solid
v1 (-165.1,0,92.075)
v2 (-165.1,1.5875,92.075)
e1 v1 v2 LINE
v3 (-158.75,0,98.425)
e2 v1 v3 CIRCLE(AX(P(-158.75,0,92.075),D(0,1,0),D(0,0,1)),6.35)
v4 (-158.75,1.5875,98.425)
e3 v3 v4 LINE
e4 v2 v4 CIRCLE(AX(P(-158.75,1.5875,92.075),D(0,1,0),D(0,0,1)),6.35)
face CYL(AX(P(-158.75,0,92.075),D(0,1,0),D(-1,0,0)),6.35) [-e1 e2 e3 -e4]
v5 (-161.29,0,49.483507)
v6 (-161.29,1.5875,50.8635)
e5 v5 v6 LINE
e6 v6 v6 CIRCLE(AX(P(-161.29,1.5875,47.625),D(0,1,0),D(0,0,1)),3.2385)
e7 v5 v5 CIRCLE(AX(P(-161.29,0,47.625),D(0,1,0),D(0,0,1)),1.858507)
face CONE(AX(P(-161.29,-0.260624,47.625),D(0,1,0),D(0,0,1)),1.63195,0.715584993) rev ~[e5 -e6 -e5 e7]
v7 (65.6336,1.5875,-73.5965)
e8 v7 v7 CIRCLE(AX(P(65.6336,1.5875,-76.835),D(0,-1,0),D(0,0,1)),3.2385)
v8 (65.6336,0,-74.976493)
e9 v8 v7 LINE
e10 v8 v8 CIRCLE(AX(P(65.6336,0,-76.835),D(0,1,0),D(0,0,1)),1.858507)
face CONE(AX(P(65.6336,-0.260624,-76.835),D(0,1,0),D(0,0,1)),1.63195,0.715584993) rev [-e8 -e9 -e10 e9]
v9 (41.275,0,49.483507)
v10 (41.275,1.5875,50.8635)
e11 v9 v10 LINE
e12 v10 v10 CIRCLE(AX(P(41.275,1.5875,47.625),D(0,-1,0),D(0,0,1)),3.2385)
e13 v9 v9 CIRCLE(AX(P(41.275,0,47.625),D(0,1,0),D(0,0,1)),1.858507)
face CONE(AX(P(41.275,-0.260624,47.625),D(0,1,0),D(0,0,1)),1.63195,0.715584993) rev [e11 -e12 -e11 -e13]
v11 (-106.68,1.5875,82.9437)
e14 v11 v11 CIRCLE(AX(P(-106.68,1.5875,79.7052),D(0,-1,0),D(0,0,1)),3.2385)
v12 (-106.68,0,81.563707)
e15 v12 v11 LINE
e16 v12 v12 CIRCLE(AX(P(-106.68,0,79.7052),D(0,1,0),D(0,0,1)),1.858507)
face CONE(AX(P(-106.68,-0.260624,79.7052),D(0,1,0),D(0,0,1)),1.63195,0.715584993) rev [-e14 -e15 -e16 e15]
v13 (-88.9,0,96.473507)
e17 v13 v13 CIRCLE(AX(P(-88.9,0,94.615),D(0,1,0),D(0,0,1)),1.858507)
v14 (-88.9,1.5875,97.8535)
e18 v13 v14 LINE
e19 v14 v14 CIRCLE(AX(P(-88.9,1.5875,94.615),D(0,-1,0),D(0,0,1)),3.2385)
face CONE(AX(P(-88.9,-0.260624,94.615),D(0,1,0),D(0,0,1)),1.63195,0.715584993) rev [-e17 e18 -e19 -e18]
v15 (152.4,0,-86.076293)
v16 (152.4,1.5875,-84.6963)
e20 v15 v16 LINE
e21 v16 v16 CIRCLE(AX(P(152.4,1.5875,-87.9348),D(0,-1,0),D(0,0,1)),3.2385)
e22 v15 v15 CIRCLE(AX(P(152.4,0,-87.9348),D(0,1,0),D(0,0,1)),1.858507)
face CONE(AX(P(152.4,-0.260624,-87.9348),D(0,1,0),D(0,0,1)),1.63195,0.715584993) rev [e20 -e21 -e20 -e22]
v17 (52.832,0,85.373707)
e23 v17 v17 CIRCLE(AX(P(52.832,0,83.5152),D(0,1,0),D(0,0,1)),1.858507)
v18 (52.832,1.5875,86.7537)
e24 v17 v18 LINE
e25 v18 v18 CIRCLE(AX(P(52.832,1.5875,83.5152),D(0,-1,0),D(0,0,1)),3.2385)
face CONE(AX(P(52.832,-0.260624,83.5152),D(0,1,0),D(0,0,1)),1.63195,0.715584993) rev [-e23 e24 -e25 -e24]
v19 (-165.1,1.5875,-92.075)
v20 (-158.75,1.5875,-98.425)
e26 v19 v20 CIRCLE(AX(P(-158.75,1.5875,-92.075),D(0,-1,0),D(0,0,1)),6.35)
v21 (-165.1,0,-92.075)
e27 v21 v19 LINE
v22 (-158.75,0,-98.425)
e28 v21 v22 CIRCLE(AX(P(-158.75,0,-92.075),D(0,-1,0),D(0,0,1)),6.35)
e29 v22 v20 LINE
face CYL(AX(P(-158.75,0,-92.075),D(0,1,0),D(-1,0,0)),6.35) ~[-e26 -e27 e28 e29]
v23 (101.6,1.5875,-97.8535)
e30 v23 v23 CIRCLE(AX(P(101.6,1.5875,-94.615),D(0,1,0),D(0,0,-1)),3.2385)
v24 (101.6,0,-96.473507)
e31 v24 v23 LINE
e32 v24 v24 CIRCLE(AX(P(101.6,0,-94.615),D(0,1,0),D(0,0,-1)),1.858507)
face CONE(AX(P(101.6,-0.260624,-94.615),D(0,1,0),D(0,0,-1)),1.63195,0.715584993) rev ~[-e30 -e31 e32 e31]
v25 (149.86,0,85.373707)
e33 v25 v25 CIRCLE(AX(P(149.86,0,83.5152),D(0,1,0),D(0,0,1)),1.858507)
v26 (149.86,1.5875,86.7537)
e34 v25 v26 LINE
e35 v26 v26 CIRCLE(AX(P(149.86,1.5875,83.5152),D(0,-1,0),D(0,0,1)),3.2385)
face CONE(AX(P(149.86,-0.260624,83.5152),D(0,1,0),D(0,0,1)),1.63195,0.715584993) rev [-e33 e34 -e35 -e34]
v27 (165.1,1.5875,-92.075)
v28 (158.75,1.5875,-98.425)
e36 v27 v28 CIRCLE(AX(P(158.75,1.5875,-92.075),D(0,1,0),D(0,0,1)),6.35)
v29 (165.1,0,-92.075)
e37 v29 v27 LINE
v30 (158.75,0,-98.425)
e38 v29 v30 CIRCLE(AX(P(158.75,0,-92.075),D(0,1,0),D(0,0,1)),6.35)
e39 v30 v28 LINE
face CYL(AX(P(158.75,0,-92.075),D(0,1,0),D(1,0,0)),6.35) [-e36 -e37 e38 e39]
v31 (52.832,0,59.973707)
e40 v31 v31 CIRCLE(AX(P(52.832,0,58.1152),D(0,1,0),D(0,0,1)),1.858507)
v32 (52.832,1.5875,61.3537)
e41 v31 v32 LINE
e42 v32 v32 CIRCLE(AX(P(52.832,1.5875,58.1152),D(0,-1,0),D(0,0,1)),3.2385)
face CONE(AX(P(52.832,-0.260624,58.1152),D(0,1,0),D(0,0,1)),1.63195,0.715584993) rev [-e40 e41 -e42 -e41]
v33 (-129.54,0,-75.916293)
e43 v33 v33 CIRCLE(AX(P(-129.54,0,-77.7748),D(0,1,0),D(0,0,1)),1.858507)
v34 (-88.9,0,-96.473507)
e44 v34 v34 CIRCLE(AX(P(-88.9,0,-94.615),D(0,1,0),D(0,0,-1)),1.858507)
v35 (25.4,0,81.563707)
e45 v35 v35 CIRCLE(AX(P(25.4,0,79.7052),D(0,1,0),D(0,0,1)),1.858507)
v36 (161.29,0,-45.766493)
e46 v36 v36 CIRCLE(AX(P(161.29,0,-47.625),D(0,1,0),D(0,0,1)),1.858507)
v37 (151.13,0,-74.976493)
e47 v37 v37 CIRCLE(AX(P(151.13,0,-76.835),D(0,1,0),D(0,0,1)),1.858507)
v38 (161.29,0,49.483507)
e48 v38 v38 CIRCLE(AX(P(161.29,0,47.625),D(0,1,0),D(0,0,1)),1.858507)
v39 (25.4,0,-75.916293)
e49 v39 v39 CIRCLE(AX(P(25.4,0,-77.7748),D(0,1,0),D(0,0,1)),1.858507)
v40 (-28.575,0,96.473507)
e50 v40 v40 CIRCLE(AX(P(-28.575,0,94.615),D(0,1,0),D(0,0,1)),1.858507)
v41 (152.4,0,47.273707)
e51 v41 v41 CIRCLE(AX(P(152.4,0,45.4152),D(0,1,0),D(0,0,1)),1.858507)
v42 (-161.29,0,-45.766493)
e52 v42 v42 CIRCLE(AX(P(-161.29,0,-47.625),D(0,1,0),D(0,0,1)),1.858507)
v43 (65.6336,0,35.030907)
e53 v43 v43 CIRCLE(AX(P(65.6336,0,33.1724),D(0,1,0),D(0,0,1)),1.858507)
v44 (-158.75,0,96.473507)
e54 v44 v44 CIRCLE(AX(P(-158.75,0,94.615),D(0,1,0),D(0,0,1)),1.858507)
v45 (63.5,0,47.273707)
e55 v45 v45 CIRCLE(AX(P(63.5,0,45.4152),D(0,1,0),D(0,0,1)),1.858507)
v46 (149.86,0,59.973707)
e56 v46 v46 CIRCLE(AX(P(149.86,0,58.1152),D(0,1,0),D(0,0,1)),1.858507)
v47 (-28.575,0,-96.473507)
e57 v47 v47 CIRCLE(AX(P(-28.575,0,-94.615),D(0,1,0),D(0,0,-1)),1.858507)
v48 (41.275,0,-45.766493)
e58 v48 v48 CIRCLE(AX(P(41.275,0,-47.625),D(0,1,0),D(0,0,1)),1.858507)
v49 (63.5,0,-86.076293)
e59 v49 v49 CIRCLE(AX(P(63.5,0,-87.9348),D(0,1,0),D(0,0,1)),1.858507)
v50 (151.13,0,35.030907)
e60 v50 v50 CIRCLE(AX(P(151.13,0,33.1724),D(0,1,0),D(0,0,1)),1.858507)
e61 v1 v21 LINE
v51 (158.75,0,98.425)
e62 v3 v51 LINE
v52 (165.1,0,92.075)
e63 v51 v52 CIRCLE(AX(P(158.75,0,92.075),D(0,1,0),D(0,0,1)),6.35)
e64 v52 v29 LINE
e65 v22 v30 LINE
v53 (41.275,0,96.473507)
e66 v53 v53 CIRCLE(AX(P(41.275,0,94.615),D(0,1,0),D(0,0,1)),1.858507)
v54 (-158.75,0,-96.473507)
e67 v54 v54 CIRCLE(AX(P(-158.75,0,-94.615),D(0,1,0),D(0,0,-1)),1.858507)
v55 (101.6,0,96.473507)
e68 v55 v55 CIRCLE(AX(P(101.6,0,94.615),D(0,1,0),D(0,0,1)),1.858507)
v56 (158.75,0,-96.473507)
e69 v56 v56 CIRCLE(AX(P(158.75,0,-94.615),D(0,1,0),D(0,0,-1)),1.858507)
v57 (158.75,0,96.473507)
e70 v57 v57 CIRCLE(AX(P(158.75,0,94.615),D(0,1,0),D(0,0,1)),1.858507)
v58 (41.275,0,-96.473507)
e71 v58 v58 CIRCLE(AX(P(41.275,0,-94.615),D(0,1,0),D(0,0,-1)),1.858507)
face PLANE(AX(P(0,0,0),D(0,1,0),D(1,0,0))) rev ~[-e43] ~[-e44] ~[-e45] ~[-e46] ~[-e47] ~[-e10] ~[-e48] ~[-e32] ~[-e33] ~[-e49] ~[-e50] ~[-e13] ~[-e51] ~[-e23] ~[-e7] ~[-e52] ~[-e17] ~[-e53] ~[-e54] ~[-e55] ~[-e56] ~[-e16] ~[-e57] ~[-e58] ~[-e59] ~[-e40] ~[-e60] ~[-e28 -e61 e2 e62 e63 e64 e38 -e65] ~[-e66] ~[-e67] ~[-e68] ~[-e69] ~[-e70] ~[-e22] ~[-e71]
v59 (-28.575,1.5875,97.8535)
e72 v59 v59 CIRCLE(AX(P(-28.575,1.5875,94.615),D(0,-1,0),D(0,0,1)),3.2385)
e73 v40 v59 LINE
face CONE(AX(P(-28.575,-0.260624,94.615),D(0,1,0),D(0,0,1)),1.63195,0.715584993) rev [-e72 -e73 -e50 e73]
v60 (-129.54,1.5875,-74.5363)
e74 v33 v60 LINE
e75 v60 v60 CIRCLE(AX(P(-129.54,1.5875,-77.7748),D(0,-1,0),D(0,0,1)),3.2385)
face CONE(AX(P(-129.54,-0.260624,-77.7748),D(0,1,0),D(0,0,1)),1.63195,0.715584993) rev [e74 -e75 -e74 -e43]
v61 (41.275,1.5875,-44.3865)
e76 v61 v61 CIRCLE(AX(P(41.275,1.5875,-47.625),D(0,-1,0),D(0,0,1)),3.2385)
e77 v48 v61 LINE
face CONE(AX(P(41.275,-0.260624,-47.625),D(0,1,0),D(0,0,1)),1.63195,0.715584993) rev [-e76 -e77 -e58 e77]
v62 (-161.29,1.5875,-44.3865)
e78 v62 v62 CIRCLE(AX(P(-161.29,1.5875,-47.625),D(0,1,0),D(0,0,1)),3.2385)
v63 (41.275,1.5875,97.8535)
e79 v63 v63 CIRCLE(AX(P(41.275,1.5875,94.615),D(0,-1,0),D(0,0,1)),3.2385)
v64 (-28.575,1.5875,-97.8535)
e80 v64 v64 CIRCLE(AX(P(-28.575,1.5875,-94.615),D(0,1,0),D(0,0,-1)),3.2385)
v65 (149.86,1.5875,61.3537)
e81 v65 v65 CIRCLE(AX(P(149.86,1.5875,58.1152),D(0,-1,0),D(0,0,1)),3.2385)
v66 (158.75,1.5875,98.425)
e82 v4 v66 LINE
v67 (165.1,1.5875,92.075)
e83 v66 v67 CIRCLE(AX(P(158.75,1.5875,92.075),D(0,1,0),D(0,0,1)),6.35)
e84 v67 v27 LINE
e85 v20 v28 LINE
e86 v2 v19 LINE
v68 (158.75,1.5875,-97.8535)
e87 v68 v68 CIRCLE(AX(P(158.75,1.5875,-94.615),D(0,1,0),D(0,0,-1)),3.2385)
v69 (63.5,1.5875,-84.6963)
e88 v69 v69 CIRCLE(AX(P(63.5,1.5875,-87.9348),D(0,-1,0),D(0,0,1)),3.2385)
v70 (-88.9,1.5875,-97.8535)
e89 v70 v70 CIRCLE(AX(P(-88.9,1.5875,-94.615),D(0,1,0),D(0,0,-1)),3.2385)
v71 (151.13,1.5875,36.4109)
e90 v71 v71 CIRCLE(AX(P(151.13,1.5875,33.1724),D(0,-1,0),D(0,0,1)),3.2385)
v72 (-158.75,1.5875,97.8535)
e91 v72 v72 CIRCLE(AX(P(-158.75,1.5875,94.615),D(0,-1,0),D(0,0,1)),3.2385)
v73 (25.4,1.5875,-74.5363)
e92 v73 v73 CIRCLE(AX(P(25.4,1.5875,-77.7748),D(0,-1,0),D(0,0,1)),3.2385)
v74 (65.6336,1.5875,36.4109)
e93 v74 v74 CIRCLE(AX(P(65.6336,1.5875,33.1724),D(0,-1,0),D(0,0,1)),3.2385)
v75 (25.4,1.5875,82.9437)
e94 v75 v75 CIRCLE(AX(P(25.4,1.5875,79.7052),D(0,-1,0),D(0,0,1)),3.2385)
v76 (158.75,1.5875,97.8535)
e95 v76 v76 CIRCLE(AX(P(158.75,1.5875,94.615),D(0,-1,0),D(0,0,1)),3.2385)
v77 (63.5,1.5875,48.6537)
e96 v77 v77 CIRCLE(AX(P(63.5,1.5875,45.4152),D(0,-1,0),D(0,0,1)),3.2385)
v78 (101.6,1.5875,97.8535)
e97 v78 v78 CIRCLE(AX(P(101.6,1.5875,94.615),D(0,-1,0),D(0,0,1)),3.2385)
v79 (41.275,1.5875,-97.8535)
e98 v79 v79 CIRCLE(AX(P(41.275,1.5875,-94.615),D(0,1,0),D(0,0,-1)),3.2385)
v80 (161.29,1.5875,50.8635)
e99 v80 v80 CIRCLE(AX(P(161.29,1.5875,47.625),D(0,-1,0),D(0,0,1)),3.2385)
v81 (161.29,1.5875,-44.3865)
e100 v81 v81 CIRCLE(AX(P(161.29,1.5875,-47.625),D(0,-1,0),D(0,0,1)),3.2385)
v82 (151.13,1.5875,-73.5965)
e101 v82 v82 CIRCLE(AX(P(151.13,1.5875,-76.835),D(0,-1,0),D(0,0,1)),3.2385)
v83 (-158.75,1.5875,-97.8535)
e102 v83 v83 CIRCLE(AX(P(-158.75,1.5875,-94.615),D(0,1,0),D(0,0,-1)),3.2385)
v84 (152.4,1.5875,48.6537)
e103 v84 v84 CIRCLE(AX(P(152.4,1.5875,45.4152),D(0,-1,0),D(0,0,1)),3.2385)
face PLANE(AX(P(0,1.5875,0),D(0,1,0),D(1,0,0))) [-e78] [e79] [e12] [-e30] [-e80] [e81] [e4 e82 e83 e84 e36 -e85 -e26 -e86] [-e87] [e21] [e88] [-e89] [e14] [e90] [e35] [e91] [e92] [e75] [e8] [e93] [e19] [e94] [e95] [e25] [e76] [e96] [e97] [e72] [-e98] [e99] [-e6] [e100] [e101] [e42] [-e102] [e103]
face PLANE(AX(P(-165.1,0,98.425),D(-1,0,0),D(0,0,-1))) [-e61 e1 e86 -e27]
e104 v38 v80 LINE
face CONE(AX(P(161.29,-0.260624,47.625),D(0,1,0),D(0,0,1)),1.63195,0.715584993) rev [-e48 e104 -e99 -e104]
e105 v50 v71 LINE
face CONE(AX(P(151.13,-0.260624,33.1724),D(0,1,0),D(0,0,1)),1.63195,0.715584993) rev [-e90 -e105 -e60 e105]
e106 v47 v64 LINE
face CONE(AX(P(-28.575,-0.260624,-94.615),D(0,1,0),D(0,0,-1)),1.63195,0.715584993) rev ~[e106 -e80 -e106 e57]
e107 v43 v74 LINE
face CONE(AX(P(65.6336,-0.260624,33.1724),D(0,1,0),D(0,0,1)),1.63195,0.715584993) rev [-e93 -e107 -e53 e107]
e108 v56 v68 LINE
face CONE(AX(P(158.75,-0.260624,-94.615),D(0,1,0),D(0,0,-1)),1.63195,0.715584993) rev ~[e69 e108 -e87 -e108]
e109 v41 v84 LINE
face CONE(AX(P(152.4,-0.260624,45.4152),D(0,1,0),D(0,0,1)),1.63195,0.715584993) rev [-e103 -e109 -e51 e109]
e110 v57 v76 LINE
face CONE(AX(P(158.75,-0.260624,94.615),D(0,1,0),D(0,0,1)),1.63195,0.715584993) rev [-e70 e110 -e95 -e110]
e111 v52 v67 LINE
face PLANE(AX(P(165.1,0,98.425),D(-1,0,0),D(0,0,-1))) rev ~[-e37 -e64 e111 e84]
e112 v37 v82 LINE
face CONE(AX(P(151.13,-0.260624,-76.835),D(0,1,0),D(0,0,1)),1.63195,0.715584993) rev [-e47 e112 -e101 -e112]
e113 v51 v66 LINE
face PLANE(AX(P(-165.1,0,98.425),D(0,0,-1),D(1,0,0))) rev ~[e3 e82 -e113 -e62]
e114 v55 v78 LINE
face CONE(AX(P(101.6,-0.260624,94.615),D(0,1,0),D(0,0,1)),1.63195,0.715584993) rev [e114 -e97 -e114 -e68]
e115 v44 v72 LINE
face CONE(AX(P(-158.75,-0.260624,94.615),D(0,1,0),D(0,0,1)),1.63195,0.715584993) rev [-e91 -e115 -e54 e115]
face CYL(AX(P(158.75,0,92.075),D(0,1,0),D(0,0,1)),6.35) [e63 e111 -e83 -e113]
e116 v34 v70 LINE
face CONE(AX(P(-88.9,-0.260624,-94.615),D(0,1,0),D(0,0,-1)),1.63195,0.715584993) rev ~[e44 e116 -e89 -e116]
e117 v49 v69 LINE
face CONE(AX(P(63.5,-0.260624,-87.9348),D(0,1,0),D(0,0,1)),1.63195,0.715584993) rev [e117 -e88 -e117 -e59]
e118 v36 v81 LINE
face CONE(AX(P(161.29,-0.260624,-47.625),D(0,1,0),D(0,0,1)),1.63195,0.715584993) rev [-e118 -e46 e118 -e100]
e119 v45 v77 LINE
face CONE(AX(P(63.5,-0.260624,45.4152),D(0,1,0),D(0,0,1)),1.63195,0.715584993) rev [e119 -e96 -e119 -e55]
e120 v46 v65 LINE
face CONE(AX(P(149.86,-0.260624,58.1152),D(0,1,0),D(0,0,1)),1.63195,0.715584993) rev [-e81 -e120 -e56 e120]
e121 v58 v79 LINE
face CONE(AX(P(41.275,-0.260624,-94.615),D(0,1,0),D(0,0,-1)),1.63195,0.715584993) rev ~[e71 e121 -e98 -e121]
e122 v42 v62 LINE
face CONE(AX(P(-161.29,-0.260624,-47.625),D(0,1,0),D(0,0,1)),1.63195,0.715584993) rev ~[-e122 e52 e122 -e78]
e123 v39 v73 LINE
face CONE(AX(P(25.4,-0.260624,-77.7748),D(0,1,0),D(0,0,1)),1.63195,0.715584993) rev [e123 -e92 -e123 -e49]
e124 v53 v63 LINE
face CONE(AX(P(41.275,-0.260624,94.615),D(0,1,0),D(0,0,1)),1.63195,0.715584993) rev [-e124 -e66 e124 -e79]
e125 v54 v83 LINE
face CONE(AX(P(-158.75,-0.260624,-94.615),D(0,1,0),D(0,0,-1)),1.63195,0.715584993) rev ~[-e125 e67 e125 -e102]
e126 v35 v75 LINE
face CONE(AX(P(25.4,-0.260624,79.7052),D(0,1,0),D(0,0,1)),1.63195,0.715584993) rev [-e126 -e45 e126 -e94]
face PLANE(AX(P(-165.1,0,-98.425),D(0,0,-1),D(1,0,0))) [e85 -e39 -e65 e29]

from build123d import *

# Parameters (mm, degrees)
SKETCH1_W                                     = 330.2
SKETCH1_H                                     = 196.85
BOSS_EXTRUDE1_DEPTH                           = 1.5875
FILLET1_R                                     = 6.35
CSK_FOR_4_FLAT_HEAD_SOCKET_CAP_SCREW1_A_COUNT = 2
CSK_FOR_4_FLAT_HEAD_SOCKET_CAP_SCREW1_A_PITCH = 95.25
LPATTERN1_COUNT                               = 2
LPATTERN1_PITCH                               = 120.015
CSK_FOR_4_FLAT_HEAD_SOCKET_CAP_SCREW2_A_COUNT = 2
CSK_FOR_4_FLAT_HEAD_SOCKET_CAP_SCREW2_A_PITCH = 57.15
CSK_FOR_4_FLAT_HEAD_SOCKET_CAP_SCRE_2_COUNT   = 2
CSK_FOR_4_FLAT_HEAD_SOCKET_CAP_SCRE_2_PITCH   = 117.475
CSK_FOR_4_FLAT_HEAD_SOCKET_CAP_SCRE_3_COUNT   = 2
CSK_FOR_4_FLAT_HEAD_SOCKET_CAP_SCRE_3_PITCH   = 187.325
CSK_FOR_4_FLAT_HEAD_SOCKET_CAP_SCRE_4_COUNT   = 2
CSK_FOR_4_FLAT_HEAD_SOCKET_CAP_SCRE_4_PITCH   = 247.65
CSK_FOR_4_FLAT_HEAD_SOCKET_CAP_SCRE_5_COUNT   = 2
CSK_FOR_4_FLAT_HEAD_SOCKET_CAP_SCRE_5_PITCH   = 317.5
CSK_FOR_4_FLAT_HEAD_SOCKET_CAP_SCREW3_A_COUNT = 2
CSK_FOR_4_FLAT_HEAD_SOCKET_CAP_SCREW3_A_PITCH = 88.9
CSK_FOR_4_FLAT_HEAD_SOCKET_CAP_SCRE_6_COUNT   = 2
CSK_FOR_4_FLAT_HEAD_SOCKET_CAP_SCRE_6_PITCH   = 160.266754194
CSK_FOR_4_FLAT_HEAD_SOCKET_CAP_SCRE_7_COUNT   = 2
CSK_FOR_4_FLAT_HEAD_SOCKET_CAP_SCRE_7_PITCH   = 133.35
CSK_FOR_4_FLAT_HEAD_SOCKET_CAP_SCREW4_A_COUNT = 2
CSK_FOR_4_FLAT_HEAD_SOCKET_CAP_SCREW4_A_PITCH = 85.4964
CSK_FOR_4_FLAT_HEAD_SOCKET_CAP_SCRE_8_COUNT   = 2
CSK_FOR_4_FLAT_HEAD_SOCKET_CAP_SCRE_8_PITCH   = 110.0074
CSK_FOR_4_FLAT_HEAD_SOCKET_CAP_SCRE_9_COUNT   = 2
CSK_FOR_4_FLAT_HEAD_SOCKET_CAP_SCRE_9_PITCH   = 139.324306809
CSK_FOR_4_FLAT_HEAD_SOCKET_CAP_SCREW5_A_COUNT = 2
CSK_FOR_4_FLAT_HEAD_SOCKET_CAP_SCREW5_A_PITCH = 25.4
CSK_FOR_4_FLAT_HEAD_SOCKET_CAP_SCRE_10_COUNT  = 2
CSK_FOR_4_FLAT_HEAD_SOCKET_CAP_SCRE_10_PITCH  = 97.028
CSK_FOR_4_FLAT_HEAD_SOCKET_CAP_SCRE_11_COUNT  = 2
CSK_FOR_4_FLAT_HEAD_SOCKET_CAP_SCRE_11_PITCH  = 100.297521325
CSK_FOR_4_FLAT_HEAD_SOCKET_CAP_SCREW6_A_COUNT = 2
CSK_FOR_4_FLAT_HEAD_SOCKET_CAP_SCREW6_A_PITCH = 154.94
CSK_FOR_4_FLAT_HEAD_SOCKET_CAP_SCRE_12_COUNT  = 2
CSK_FOR_4_FLAT_HEAD_SOCKET_CAP_SCRE_12_PITCH  = 220.921601479
CSK_FOR_4_FLAT_HEAD_SOCKET_CAP_SCRE_13_COUNT  = 2
CSK_FOR_4_FLAT_HEAD_SOCKET_CAP_SCRE_13_PITCH  = 159.130543894


with BuildPart() as part:
    # Sketch1 → Boss-Extrude1 (new body)
    with BuildSketch(Plane(origin=(0, 0, 0), x_dir=(1, 0, 0), z_dir=(0, 1, 0))):
        Rectangle(SKETCH1_W, SKETCH1_H)
    extrude(amount=BOSS_EXTRUDE1_DEPTH)

    # Fillet1
    fillet1_edges = [part.edges().sort_by_distance(p)[0] for p in [
        (165.1, 0.79375, 98.425),
        (-165.1, 0.79375, 98.425),
        (-165.1, 0.79375, -98.425),
        (165.1, 0.79375, -98.425),
    ]]
    fillet(fillet1_edges, radius=FILLET1_R)

    # Sketch2 → CSK for #4 Flat Head Socket Cap Screw1 (revolve, cut)
    with BuildSketch(Plane(origin=(161.29, 1.5875, 47.625), x_dir=(0, 0, 1), z_dir=(1, 0, 0))):
        Polygon((0, 0), (0, 1.5875), (1.63195, 1.5875), (1.63195, 1.848124365), (3.2385, 0), align=None)
    csk_for_4_flat_head_socket_cap_screw1 = revolve(axis=Axis((161.29, 7.9375, 47.625), (0, -1, 0)), mode=Mode.SUBTRACT)

    # CSK for #4 Flat Head Socket Cap Screw1 a: CSK for #4 Flat Head Socket Cap Screw1 ×2
    with Locations(*[(0, 0, -i * CSK_FOR_4_FLAT_HEAD_SOCKET_CAP_SCREW1_A_PITCH) for i in range(1, CSK_FOR_4_FLAT_HEAD_SOCKET_CAP_SCREW1_A_COUNT)]):
        add(csk_for_4_flat_head_socket_cap_screw1, mode=Mode.SUBTRACT)

    # LPattern1: CSK for #4 Flat Head Socket Cap Screw1 ×2
    with Locations(*[(-i * LPATTERN1_PITCH, 0, 0) for i in range(1, LPATTERN1_COUNT)]):
        add(csk_for_4_flat_head_socket_cap_screw1, mode=Mode.SUBTRACT)

    # LPattern1 copy 1 sketch → LPattern1 copy 1 (revolve, cut)
    with BuildSketch(Plane(origin=(41.275, 1.5875, -47.625), x_dir=(0, 0, 1), z_dir=(1, 0, 0))):
        Polygon((0, 0), (0, 1.5875), (1.63195, 1.5875), (1.63195, 1.848124365), (3.2385, 0), align=None)
    revolve(axis=Axis((41.275, 7.9375, -47.625), (0, -1, 0)), mode=Mode.SUBTRACT)

    # Mirror1: CSK for #4 Flat Head Socket Cap Screw1 across plane
    add(csk_for_4_flat_head_socket_cap_screw1.mirror(Plane(origin=(0, 0, 0), x_dir=(0, 0, 1), z_dir=(1, 0, 0))), mode=Mode.SUBTRACT)

    # Mirror1 copy 1 sketch → Mirror1 copy 1 (revolve, cut)
    with BuildSketch(Plane(origin=(-161.29, 1.5875, -47.625), x_dir=(0, 0, 1), z_dir=(-1, 0, 0))):
        Polygon((0, 0), (0, -1.5875), (1.63195, -1.5875), (1.63195, -1.848124365), (3.2385, 0), align=None)
    revolve(axis=Axis((-161.29, 7.9375, -47.625), (0, 1, 0)), mode=Mode.SUBTRACT)

    # Sketch7 → CSK for #4 Flat Head Socket Cap Screw2 (revolve, cut)
    with BuildSketch(Plane(origin=(158.75, 1.5875, 94.615), x_dir=(0, 0, 1), z_dir=(1, 0, 0))):
        Polygon((0, 0), (0, 1.5875), (1.63195, 1.5875), (1.63195, 1.848124365), (3.2385, 0), align=None)
    csk_for_4_flat_head_socket_cap_screw2 = revolve(axis=Axis((158.75, 7.9375, 94.615), (0, -1, 0)), mode=Mode.SUBTRACT)

    # CSK for #4 Flat Head Socket Cap Screw2 a: CSK for #4 Flat Head Socket Cap Screw2 ×2
    with Locations(*[(-i * CSK_FOR_4_FLAT_HEAD_SOCKET_CAP_SCREW2_A_PITCH, 0, 0) for i in range(1, CSK_FOR_4_FLAT_HEAD_SOCKET_CAP_SCREW2_A_COUNT)]):
        add(csk_for_4_flat_head_socket_cap_screw2, mode=Mode.SUBTRACT)

    # CSK for _4 Flat Head Socket Cap Scre 2: CSK for #4 Flat Head Socket Cap Screw2 ×2
    with Locations(*[(-i * CSK_FOR_4_FLAT_HEAD_SOCKET_CAP_SCRE_2_PITCH, 0, 0) for i in range(1, CSK_FOR_4_FLAT_HEAD_SOCKET_CAP_SCRE_2_COUNT)]):
        add(csk_for_4_flat_head_socket_cap_screw2, mode=Mode.SUBTRACT)

    # CSK for _4 Flat Head Socket Cap Scre 3: CSK for #4 Flat Head Socket Cap Screw2 ×2
    with Locations(*[(-i * CSK_FOR_4_FLAT_HEAD_SOCKET_CAP_SCRE_3_PITCH, 0, 0) for i in range(1, CSK_FOR_4_FLAT_HEAD_SOCKET_CAP_SCRE_3_COUNT)]):
        add(csk_for_4_flat_head_socket_cap_screw2, mode=Mode.SUBTRACT)

    # CSK for _4 Flat Head Socket Cap Scre 4: CSK for #4 Flat Head Socket Cap Screw2 ×2
    with Locations(*[(-i * CSK_FOR_4_FLAT_HEAD_SOCKET_CAP_SCRE_4_PITCH, 0, 0) for i in range(1, CSK_FOR_4_FLAT_HEAD_SOCKET_CAP_SCRE_4_COUNT)]):
        add(csk_for_4_flat_head_socket_cap_screw2, mode=Mode.SUBTRACT)

    # CSK for _4 Flat Head Socket Cap Scre 5: CSK for #4 Flat Head Socket Cap Screw2 ×2
    with Locations(*[(-i * CSK_FOR_4_FLAT_HEAD_SOCKET_CAP_SCRE_5_PITCH, 0, 0) for i in range(1, CSK_FOR_4_FLAT_HEAD_SOCKET_CAP_SCRE_5_COUNT)]):
        add(csk_for_4_flat_head_socket_cap_screw2, mode=Mode.SUBTRACT)

    # Mirror2: CSK for #4 Flat Head Socket Cap Screw2 across plane
    add(csk_for_4_flat_head_socket_cap_screw2.mirror(Plane.XY), mode=Mode.SUBTRACT)

    # Mirror2 copy 1 sketch → Mirror2 copy 1 (revolve, cut)
    with BuildSketch(Plane(origin=(101.6, 1.5875, -94.615), x_dir=(0, 0, -1), z_dir=(1, 0, 0))):
        Polygon((0, 0), (0, -1.5875), (1.63195, -1.5875), (1.63195, -1.848124365), (3.2385, 0), align=None)
    revolve(axis=Axis((101.6, 7.9375, -94.615), (0, 1, 0)), mode=Mode.SUBTRACT)

    # Mirror2 copy 2 sketch → Mirror2 copy 2 (revolve, cut)
    with BuildSketch(Plane(origin=(41.275, 1.5875, -94.615), x_dir=(0, 0, -1), z_dir=(1, 0, 0))):
        Polygon((0, 0), (0, -1.5875), (1.63195, -1.5875), (1.63195, -1.848124365), (3.2385, 0), align=None)
    revolve(axis=Axis((41.275, 7.9375, -94.615), (0, 1, 0)), mode=Mode.SUBTRACT)

    # Mirror2 copy 3 sketch → Mirror2 copy 3 (revolve, cut)
    with BuildSketch(Plane(origin=(-28.575, 1.5875, -94.615), x_dir=(0, 0, -1), z_dir=(1, 0, 0))):
        Polygon((0, 0), (0, -1.5875), (1.63195, -1.5875), (1.63195, -1.848124365), (3.2385, 0), align=None)
    revolve(axis=Axis((-28.575, 7.9375, -94.615), (0, 1, 0)), mode=Mode.SUBTRACT)

    # Mirror2 copy 4 sketch → Mirror2 copy 4 (revolve, cut)
    with BuildSketch(Plane(origin=(-88.9, 1.5875, -94.615), x_dir=(0, 0, -1), z_dir=(1, 0, 0))):
        Polygon((0, 0), (0, -1.5875), (1.63195, -1.5875), (1.63195, -1.848124365), (3.2385, 0), align=None)
    revolve(axis=Axis((-88.9, 7.9375, -94.615), (0, 1, 0)), mode=Mode.SUBTRACT)

    # Mirror2 copy 5 sketch → Mirror2 copy 5 (revolve, cut)
    with BuildSketch(Plane(origin=(-158.75, 1.5875, -94.615), x_dir=(0, 0, -1), z_dir=(1, 0, 0))):
        Polygon((0, 0), (0, -1.5875), (1.63195, -1.5875), (1.63195, -1.848124365), (3.2385, 0), align=None)
    revolve(axis=Axis((-158.75, 7.9375, -94.615), (0, 1, 0)), mode=Mode.SUBTRACT)

    # Sketch9 → CSK for #4 Flat Head Socket Cap Screw3 (revolve, cut)
    with BuildSketch(Plane(origin=(152.4, 1.5875, -87.9348), x_dir=(0, 0, 1), z_dir=(1, 0, 0))):
        Polygon((0, 0), (0, 1.5875), (1.63195, 1.5875), (1.63195, 1.848124365), (3.2385, 0), align=None)
    csk_for_4_flat_head_socket_cap_screw3 = revolve(axis=Axis((152.4, 7.9375, -87.9348), (0, -1, 0)), mode=Mode.SUBTRACT)

    # CSK for #4 Flat Head Socket Cap Screw3 a: CSK for #4 Flat Head Socket Cap Screw3 ×2
    with Locations(*[(-i * CSK_FOR_4_FLAT_HEAD_SOCKET_CAP_SCREW3_A_PITCH, 0, 0) for i in range(1, CSK_FOR_4_FLAT_HEAD_SOCKET_CAP_SCREW3_A_COUNT)]):
        add(csk_for_4_flat_head_socket_cap_screw3, mode=Mode.SUBTRACT)

    # CSK for _4 Flat Head Socket Cap Scre 6: CSK for #4 Flat Head Socket Cap Screw3 ×2
    with Locations(*[Vector(-0.5547001962252291, 0, 0.8320502943378437) * (i * CSK_FOR_4_FLAT_HEAD_SOCKET_CAP_SCRE_6_PITCH) for i in range(1, CSK_FOR_4_FLAT_HEAD_SOCKET_CAP_SCRE_6_COUNT)]):
        add(csk_for_4_flat_head_socket_cap_screw3, mode=Mode.SUBTRACT)

    # CSK for _4 Flat Head Socket Cap Scre 7: CSK for #4 Flat Head Socket Cap Screw3 ×2
    with Locations(*[(0, 0, i * CSK_FOR_4_FLAT_HEAD_SOCKET_CAP_SCRE_7_PITCH) for i in range(1, CSK_FOR_4_FLAT_HEAD_SOCKET_CAP_SCRE_7_COUNT)]):
        add(csk_for_4_flat_head_socket_cap_screw3, mode=Mode.SUBTRACT)

    # Sketch11 → CSK for #4 Flat Head Socket Cap Screw4 (revolve, cut)
    with BuildSketch(Plane(origin=(65.6336, 1.5875, -76.835), x_dir=(0, 0, 1), z_dir=(1, 0, 0))):
        Polygon((0, 0), (0, 1.5875), (1.63195, 1.5875), (1.63195, 1.848124365), (3.2385, 0), align=None)
    csk_for_4_flat_head_socket_cap_screw4 = revolve(axis=Axis((65.6336, 7.9375, -76.835), (0, -1, 0)), mode=Mode.SUBTRACT)

    # CSK for #4 Flat Head Socket Cap Screw4 a: CSK for #4 Flat Head Socket Cap Screw4 ×2
    with Locations(*[(i * CSK_FOR_4_FLAT_HEAD_SOCKET_CAP_SCREW4_A_PITCH, 0, 0) for i in range(1, CSK_FOR_4_FLAT_HEAD_SOCKET_CAP_SCREW4_A_COUNT)]):
        add(csk_for_4_flat_head_socket_cap_screw4, mode=Mode.SUBTRACT)

    # CSK for _4 Flat Head Socket Cap Scre 8: CSK for #4 Flat Head Socket Cap Screw4 ×2
    with Locations(*[(0, 0, i * CSK_FOR_4_FLAT_HEAD_SOCKET_CAP_SCRE_8_PITCH) for i in range(1, CSK_FOR_4_FLAT_HEAD_SOCKET_CAP_SCRE_8_COUNT)]):
        add(csk_for_4_flat_head_socket_cap_screw4, mode=Mode.SUBTRACT)

    # CSK for _4 Flat Head Socket Cap Scre 9: CSK for #4 Flat Head Socket Cap Screw4 ×2
    with Locations(*[Vector(0.6136502808329188, 0, 0.7895779460152619) * (i * CSK_FOR_4_FLAT_HEAD_SOCKET_CAP_SCRE_9_PITCH) for i in range(1, CSK_FOR_4_FLAT_HEAD_SOCKET_CAP_SCRE_9_COUNT)]):
        add(csk_for_4_flat_head_socket_cap_screw4, mode=Mode.SUBTRACT)

    # Sketch13 → CSK for #4 Flat Head Socket Cap Screw5 (revolve, cut)
    with BuildSketch(Plane(origin=(149.86, 1.5875, 58.1152), x_dir=(0, 0, 1), z_dir=(1, 0, 0))):
        Polygon((0, 0), (0, 1.5875), (1.63195, 1.5875), (1.63195, 1.848124365), (3.2385, 0), align=None)
    csk_for_4_flat_head_socket_cap_screw5 = revolve(axis=Axis((149.86, 7.9375, 58.1152), (0, -1, 0)), mode=Mode.SUBTRACT)

    # CSK for #4 Flat Head Socket Cap Screw5 a: CSK for #4 Flat Head Socket Cap Screw5 ×2
    with Locations(*[(0, 0, i * CSK_FOR_4_FLAT_HEAD_SOCKET_CAP_SCREW5_A_PITCH) for i in range(1, CSK_FOR_4_FLAT_HEAD_SOCKET_CAP_SCREW5_A_COUNT)]):
        add(csk_for_4_flat_head_socket_cap_screw5, mode=Mode.SUBTRACT)

    # CSK for _4 Flat Head Socket Cap Scre 10: CSK for #4 Flat Head Socket Cap Screw5 ×2
    with Locations(*[(-i * CSK_FOR_4_FLAT_HEAD_SOCKET_CAP_SCRE_10_PITCH, 0, 0) for i in range(1, CSK_FOR_4_FLAT_HEAD_SOCKET_CAP_SCRE_10_COUNT)]):
        add(csk_for_4_flat_head_socket_cap_screw5, mode=Mode.SUBTRACT)

    # CSK for _4 Flat Head Socket Cap Scre 11: CSK for #4 Flat Head Socket Cap Screw5 ×2
    with Locations(*[Vector(-0.9674017734226894, 0, 0.25324653754520676) * (i * CSK_FOR_4_FLAT_HEAD_SOCKET_CAP_SCRE_11_PITCH) for i in range(1, CSK_FOR_4_FLAT_HEAD_SOCKET_CAP_SCRE_11_COUNT)]):
        add(csk_for_4_flat_head_socket_cap_screw5, mode=Mode.SUBTRACT)

    # Sketch15 → CSK for #4 Flat Head Socket Cap Screw6 (revolve, cut)
    with BuildSketch(Plane(origin=(-129.54, 1.5875, -77.7748), x_dir=(0, 0, 1), z_dir=(1, 0, 0))):
        Polygon((0, 0), (0, 1.5875), (1.63195, 1.5875), (1.63195, 1.848124365), (3.2385, 0), align=None)
    csk_for_4_flat_head_socket_cap_screw6 = revolve(axis=Axis((-129.54, 7.9375, -77.7748), (0, -1, 0)), mode=Mode.SUBTRACT)

    # CSK for #4 Flat Head Socket Cap Screw6 a: CSK for #4 Flat Head Socket Cap Screw6 ×2
    with Locations(*[(i * CSK_FOR_4_FLAT_HEAD_SOCKET_CAP_SCREW6_A_PITCH, 0, 0) for i in range(1, CSK_FOR_4_FLAT_HEAD_SOCKET_CAP_SCREW6_A_COUNT)]):
        add(csk_for_4_flat_head_socket_cap_screw6, mode=Mode.SUBTRACT)

    # CSK for _4 Flat Head Socket Cap Scre 12: CSK for #4 Flat Head Socket Cap Screw6 ×2
    with Locations(*[Vector(0.7013347674595831, 0, 0.7128320587294124) * (i * CSK_FOR_4_FLAT_HEAD_SOCKET_CAP_SCRE_12_PITCH) for i in range(1, CSK_FOR_4_FLAT_HEAD_SOCKET_CAP_SCRE_12_COUNT)]):
        add(csk_for_4_flat_head_socket_cap_screw6, mode=Mode.SUBTRACT)

    # CSK for _4 Flat Head Socket Cap Scre 13: CSK for #4 Flat Head Socket Cap Screw6 ×2
    with Locations(*[Vector(0.14365563920417196, 0, 0.9896277367398515) * (i * CSK_FOR_4_FLAT_HEAD_SOCKET_CAP_SCRE_13_PITCH) for i in range(1, CSK_FOR_4_FLAT_HEAD_SOCKET_CAP_SCRE_13_COUNT)]):
        add(csk_for_4_flat_head_socket_cap_screw6, mode=Mode.SUBTRACT)


solid = part.part
